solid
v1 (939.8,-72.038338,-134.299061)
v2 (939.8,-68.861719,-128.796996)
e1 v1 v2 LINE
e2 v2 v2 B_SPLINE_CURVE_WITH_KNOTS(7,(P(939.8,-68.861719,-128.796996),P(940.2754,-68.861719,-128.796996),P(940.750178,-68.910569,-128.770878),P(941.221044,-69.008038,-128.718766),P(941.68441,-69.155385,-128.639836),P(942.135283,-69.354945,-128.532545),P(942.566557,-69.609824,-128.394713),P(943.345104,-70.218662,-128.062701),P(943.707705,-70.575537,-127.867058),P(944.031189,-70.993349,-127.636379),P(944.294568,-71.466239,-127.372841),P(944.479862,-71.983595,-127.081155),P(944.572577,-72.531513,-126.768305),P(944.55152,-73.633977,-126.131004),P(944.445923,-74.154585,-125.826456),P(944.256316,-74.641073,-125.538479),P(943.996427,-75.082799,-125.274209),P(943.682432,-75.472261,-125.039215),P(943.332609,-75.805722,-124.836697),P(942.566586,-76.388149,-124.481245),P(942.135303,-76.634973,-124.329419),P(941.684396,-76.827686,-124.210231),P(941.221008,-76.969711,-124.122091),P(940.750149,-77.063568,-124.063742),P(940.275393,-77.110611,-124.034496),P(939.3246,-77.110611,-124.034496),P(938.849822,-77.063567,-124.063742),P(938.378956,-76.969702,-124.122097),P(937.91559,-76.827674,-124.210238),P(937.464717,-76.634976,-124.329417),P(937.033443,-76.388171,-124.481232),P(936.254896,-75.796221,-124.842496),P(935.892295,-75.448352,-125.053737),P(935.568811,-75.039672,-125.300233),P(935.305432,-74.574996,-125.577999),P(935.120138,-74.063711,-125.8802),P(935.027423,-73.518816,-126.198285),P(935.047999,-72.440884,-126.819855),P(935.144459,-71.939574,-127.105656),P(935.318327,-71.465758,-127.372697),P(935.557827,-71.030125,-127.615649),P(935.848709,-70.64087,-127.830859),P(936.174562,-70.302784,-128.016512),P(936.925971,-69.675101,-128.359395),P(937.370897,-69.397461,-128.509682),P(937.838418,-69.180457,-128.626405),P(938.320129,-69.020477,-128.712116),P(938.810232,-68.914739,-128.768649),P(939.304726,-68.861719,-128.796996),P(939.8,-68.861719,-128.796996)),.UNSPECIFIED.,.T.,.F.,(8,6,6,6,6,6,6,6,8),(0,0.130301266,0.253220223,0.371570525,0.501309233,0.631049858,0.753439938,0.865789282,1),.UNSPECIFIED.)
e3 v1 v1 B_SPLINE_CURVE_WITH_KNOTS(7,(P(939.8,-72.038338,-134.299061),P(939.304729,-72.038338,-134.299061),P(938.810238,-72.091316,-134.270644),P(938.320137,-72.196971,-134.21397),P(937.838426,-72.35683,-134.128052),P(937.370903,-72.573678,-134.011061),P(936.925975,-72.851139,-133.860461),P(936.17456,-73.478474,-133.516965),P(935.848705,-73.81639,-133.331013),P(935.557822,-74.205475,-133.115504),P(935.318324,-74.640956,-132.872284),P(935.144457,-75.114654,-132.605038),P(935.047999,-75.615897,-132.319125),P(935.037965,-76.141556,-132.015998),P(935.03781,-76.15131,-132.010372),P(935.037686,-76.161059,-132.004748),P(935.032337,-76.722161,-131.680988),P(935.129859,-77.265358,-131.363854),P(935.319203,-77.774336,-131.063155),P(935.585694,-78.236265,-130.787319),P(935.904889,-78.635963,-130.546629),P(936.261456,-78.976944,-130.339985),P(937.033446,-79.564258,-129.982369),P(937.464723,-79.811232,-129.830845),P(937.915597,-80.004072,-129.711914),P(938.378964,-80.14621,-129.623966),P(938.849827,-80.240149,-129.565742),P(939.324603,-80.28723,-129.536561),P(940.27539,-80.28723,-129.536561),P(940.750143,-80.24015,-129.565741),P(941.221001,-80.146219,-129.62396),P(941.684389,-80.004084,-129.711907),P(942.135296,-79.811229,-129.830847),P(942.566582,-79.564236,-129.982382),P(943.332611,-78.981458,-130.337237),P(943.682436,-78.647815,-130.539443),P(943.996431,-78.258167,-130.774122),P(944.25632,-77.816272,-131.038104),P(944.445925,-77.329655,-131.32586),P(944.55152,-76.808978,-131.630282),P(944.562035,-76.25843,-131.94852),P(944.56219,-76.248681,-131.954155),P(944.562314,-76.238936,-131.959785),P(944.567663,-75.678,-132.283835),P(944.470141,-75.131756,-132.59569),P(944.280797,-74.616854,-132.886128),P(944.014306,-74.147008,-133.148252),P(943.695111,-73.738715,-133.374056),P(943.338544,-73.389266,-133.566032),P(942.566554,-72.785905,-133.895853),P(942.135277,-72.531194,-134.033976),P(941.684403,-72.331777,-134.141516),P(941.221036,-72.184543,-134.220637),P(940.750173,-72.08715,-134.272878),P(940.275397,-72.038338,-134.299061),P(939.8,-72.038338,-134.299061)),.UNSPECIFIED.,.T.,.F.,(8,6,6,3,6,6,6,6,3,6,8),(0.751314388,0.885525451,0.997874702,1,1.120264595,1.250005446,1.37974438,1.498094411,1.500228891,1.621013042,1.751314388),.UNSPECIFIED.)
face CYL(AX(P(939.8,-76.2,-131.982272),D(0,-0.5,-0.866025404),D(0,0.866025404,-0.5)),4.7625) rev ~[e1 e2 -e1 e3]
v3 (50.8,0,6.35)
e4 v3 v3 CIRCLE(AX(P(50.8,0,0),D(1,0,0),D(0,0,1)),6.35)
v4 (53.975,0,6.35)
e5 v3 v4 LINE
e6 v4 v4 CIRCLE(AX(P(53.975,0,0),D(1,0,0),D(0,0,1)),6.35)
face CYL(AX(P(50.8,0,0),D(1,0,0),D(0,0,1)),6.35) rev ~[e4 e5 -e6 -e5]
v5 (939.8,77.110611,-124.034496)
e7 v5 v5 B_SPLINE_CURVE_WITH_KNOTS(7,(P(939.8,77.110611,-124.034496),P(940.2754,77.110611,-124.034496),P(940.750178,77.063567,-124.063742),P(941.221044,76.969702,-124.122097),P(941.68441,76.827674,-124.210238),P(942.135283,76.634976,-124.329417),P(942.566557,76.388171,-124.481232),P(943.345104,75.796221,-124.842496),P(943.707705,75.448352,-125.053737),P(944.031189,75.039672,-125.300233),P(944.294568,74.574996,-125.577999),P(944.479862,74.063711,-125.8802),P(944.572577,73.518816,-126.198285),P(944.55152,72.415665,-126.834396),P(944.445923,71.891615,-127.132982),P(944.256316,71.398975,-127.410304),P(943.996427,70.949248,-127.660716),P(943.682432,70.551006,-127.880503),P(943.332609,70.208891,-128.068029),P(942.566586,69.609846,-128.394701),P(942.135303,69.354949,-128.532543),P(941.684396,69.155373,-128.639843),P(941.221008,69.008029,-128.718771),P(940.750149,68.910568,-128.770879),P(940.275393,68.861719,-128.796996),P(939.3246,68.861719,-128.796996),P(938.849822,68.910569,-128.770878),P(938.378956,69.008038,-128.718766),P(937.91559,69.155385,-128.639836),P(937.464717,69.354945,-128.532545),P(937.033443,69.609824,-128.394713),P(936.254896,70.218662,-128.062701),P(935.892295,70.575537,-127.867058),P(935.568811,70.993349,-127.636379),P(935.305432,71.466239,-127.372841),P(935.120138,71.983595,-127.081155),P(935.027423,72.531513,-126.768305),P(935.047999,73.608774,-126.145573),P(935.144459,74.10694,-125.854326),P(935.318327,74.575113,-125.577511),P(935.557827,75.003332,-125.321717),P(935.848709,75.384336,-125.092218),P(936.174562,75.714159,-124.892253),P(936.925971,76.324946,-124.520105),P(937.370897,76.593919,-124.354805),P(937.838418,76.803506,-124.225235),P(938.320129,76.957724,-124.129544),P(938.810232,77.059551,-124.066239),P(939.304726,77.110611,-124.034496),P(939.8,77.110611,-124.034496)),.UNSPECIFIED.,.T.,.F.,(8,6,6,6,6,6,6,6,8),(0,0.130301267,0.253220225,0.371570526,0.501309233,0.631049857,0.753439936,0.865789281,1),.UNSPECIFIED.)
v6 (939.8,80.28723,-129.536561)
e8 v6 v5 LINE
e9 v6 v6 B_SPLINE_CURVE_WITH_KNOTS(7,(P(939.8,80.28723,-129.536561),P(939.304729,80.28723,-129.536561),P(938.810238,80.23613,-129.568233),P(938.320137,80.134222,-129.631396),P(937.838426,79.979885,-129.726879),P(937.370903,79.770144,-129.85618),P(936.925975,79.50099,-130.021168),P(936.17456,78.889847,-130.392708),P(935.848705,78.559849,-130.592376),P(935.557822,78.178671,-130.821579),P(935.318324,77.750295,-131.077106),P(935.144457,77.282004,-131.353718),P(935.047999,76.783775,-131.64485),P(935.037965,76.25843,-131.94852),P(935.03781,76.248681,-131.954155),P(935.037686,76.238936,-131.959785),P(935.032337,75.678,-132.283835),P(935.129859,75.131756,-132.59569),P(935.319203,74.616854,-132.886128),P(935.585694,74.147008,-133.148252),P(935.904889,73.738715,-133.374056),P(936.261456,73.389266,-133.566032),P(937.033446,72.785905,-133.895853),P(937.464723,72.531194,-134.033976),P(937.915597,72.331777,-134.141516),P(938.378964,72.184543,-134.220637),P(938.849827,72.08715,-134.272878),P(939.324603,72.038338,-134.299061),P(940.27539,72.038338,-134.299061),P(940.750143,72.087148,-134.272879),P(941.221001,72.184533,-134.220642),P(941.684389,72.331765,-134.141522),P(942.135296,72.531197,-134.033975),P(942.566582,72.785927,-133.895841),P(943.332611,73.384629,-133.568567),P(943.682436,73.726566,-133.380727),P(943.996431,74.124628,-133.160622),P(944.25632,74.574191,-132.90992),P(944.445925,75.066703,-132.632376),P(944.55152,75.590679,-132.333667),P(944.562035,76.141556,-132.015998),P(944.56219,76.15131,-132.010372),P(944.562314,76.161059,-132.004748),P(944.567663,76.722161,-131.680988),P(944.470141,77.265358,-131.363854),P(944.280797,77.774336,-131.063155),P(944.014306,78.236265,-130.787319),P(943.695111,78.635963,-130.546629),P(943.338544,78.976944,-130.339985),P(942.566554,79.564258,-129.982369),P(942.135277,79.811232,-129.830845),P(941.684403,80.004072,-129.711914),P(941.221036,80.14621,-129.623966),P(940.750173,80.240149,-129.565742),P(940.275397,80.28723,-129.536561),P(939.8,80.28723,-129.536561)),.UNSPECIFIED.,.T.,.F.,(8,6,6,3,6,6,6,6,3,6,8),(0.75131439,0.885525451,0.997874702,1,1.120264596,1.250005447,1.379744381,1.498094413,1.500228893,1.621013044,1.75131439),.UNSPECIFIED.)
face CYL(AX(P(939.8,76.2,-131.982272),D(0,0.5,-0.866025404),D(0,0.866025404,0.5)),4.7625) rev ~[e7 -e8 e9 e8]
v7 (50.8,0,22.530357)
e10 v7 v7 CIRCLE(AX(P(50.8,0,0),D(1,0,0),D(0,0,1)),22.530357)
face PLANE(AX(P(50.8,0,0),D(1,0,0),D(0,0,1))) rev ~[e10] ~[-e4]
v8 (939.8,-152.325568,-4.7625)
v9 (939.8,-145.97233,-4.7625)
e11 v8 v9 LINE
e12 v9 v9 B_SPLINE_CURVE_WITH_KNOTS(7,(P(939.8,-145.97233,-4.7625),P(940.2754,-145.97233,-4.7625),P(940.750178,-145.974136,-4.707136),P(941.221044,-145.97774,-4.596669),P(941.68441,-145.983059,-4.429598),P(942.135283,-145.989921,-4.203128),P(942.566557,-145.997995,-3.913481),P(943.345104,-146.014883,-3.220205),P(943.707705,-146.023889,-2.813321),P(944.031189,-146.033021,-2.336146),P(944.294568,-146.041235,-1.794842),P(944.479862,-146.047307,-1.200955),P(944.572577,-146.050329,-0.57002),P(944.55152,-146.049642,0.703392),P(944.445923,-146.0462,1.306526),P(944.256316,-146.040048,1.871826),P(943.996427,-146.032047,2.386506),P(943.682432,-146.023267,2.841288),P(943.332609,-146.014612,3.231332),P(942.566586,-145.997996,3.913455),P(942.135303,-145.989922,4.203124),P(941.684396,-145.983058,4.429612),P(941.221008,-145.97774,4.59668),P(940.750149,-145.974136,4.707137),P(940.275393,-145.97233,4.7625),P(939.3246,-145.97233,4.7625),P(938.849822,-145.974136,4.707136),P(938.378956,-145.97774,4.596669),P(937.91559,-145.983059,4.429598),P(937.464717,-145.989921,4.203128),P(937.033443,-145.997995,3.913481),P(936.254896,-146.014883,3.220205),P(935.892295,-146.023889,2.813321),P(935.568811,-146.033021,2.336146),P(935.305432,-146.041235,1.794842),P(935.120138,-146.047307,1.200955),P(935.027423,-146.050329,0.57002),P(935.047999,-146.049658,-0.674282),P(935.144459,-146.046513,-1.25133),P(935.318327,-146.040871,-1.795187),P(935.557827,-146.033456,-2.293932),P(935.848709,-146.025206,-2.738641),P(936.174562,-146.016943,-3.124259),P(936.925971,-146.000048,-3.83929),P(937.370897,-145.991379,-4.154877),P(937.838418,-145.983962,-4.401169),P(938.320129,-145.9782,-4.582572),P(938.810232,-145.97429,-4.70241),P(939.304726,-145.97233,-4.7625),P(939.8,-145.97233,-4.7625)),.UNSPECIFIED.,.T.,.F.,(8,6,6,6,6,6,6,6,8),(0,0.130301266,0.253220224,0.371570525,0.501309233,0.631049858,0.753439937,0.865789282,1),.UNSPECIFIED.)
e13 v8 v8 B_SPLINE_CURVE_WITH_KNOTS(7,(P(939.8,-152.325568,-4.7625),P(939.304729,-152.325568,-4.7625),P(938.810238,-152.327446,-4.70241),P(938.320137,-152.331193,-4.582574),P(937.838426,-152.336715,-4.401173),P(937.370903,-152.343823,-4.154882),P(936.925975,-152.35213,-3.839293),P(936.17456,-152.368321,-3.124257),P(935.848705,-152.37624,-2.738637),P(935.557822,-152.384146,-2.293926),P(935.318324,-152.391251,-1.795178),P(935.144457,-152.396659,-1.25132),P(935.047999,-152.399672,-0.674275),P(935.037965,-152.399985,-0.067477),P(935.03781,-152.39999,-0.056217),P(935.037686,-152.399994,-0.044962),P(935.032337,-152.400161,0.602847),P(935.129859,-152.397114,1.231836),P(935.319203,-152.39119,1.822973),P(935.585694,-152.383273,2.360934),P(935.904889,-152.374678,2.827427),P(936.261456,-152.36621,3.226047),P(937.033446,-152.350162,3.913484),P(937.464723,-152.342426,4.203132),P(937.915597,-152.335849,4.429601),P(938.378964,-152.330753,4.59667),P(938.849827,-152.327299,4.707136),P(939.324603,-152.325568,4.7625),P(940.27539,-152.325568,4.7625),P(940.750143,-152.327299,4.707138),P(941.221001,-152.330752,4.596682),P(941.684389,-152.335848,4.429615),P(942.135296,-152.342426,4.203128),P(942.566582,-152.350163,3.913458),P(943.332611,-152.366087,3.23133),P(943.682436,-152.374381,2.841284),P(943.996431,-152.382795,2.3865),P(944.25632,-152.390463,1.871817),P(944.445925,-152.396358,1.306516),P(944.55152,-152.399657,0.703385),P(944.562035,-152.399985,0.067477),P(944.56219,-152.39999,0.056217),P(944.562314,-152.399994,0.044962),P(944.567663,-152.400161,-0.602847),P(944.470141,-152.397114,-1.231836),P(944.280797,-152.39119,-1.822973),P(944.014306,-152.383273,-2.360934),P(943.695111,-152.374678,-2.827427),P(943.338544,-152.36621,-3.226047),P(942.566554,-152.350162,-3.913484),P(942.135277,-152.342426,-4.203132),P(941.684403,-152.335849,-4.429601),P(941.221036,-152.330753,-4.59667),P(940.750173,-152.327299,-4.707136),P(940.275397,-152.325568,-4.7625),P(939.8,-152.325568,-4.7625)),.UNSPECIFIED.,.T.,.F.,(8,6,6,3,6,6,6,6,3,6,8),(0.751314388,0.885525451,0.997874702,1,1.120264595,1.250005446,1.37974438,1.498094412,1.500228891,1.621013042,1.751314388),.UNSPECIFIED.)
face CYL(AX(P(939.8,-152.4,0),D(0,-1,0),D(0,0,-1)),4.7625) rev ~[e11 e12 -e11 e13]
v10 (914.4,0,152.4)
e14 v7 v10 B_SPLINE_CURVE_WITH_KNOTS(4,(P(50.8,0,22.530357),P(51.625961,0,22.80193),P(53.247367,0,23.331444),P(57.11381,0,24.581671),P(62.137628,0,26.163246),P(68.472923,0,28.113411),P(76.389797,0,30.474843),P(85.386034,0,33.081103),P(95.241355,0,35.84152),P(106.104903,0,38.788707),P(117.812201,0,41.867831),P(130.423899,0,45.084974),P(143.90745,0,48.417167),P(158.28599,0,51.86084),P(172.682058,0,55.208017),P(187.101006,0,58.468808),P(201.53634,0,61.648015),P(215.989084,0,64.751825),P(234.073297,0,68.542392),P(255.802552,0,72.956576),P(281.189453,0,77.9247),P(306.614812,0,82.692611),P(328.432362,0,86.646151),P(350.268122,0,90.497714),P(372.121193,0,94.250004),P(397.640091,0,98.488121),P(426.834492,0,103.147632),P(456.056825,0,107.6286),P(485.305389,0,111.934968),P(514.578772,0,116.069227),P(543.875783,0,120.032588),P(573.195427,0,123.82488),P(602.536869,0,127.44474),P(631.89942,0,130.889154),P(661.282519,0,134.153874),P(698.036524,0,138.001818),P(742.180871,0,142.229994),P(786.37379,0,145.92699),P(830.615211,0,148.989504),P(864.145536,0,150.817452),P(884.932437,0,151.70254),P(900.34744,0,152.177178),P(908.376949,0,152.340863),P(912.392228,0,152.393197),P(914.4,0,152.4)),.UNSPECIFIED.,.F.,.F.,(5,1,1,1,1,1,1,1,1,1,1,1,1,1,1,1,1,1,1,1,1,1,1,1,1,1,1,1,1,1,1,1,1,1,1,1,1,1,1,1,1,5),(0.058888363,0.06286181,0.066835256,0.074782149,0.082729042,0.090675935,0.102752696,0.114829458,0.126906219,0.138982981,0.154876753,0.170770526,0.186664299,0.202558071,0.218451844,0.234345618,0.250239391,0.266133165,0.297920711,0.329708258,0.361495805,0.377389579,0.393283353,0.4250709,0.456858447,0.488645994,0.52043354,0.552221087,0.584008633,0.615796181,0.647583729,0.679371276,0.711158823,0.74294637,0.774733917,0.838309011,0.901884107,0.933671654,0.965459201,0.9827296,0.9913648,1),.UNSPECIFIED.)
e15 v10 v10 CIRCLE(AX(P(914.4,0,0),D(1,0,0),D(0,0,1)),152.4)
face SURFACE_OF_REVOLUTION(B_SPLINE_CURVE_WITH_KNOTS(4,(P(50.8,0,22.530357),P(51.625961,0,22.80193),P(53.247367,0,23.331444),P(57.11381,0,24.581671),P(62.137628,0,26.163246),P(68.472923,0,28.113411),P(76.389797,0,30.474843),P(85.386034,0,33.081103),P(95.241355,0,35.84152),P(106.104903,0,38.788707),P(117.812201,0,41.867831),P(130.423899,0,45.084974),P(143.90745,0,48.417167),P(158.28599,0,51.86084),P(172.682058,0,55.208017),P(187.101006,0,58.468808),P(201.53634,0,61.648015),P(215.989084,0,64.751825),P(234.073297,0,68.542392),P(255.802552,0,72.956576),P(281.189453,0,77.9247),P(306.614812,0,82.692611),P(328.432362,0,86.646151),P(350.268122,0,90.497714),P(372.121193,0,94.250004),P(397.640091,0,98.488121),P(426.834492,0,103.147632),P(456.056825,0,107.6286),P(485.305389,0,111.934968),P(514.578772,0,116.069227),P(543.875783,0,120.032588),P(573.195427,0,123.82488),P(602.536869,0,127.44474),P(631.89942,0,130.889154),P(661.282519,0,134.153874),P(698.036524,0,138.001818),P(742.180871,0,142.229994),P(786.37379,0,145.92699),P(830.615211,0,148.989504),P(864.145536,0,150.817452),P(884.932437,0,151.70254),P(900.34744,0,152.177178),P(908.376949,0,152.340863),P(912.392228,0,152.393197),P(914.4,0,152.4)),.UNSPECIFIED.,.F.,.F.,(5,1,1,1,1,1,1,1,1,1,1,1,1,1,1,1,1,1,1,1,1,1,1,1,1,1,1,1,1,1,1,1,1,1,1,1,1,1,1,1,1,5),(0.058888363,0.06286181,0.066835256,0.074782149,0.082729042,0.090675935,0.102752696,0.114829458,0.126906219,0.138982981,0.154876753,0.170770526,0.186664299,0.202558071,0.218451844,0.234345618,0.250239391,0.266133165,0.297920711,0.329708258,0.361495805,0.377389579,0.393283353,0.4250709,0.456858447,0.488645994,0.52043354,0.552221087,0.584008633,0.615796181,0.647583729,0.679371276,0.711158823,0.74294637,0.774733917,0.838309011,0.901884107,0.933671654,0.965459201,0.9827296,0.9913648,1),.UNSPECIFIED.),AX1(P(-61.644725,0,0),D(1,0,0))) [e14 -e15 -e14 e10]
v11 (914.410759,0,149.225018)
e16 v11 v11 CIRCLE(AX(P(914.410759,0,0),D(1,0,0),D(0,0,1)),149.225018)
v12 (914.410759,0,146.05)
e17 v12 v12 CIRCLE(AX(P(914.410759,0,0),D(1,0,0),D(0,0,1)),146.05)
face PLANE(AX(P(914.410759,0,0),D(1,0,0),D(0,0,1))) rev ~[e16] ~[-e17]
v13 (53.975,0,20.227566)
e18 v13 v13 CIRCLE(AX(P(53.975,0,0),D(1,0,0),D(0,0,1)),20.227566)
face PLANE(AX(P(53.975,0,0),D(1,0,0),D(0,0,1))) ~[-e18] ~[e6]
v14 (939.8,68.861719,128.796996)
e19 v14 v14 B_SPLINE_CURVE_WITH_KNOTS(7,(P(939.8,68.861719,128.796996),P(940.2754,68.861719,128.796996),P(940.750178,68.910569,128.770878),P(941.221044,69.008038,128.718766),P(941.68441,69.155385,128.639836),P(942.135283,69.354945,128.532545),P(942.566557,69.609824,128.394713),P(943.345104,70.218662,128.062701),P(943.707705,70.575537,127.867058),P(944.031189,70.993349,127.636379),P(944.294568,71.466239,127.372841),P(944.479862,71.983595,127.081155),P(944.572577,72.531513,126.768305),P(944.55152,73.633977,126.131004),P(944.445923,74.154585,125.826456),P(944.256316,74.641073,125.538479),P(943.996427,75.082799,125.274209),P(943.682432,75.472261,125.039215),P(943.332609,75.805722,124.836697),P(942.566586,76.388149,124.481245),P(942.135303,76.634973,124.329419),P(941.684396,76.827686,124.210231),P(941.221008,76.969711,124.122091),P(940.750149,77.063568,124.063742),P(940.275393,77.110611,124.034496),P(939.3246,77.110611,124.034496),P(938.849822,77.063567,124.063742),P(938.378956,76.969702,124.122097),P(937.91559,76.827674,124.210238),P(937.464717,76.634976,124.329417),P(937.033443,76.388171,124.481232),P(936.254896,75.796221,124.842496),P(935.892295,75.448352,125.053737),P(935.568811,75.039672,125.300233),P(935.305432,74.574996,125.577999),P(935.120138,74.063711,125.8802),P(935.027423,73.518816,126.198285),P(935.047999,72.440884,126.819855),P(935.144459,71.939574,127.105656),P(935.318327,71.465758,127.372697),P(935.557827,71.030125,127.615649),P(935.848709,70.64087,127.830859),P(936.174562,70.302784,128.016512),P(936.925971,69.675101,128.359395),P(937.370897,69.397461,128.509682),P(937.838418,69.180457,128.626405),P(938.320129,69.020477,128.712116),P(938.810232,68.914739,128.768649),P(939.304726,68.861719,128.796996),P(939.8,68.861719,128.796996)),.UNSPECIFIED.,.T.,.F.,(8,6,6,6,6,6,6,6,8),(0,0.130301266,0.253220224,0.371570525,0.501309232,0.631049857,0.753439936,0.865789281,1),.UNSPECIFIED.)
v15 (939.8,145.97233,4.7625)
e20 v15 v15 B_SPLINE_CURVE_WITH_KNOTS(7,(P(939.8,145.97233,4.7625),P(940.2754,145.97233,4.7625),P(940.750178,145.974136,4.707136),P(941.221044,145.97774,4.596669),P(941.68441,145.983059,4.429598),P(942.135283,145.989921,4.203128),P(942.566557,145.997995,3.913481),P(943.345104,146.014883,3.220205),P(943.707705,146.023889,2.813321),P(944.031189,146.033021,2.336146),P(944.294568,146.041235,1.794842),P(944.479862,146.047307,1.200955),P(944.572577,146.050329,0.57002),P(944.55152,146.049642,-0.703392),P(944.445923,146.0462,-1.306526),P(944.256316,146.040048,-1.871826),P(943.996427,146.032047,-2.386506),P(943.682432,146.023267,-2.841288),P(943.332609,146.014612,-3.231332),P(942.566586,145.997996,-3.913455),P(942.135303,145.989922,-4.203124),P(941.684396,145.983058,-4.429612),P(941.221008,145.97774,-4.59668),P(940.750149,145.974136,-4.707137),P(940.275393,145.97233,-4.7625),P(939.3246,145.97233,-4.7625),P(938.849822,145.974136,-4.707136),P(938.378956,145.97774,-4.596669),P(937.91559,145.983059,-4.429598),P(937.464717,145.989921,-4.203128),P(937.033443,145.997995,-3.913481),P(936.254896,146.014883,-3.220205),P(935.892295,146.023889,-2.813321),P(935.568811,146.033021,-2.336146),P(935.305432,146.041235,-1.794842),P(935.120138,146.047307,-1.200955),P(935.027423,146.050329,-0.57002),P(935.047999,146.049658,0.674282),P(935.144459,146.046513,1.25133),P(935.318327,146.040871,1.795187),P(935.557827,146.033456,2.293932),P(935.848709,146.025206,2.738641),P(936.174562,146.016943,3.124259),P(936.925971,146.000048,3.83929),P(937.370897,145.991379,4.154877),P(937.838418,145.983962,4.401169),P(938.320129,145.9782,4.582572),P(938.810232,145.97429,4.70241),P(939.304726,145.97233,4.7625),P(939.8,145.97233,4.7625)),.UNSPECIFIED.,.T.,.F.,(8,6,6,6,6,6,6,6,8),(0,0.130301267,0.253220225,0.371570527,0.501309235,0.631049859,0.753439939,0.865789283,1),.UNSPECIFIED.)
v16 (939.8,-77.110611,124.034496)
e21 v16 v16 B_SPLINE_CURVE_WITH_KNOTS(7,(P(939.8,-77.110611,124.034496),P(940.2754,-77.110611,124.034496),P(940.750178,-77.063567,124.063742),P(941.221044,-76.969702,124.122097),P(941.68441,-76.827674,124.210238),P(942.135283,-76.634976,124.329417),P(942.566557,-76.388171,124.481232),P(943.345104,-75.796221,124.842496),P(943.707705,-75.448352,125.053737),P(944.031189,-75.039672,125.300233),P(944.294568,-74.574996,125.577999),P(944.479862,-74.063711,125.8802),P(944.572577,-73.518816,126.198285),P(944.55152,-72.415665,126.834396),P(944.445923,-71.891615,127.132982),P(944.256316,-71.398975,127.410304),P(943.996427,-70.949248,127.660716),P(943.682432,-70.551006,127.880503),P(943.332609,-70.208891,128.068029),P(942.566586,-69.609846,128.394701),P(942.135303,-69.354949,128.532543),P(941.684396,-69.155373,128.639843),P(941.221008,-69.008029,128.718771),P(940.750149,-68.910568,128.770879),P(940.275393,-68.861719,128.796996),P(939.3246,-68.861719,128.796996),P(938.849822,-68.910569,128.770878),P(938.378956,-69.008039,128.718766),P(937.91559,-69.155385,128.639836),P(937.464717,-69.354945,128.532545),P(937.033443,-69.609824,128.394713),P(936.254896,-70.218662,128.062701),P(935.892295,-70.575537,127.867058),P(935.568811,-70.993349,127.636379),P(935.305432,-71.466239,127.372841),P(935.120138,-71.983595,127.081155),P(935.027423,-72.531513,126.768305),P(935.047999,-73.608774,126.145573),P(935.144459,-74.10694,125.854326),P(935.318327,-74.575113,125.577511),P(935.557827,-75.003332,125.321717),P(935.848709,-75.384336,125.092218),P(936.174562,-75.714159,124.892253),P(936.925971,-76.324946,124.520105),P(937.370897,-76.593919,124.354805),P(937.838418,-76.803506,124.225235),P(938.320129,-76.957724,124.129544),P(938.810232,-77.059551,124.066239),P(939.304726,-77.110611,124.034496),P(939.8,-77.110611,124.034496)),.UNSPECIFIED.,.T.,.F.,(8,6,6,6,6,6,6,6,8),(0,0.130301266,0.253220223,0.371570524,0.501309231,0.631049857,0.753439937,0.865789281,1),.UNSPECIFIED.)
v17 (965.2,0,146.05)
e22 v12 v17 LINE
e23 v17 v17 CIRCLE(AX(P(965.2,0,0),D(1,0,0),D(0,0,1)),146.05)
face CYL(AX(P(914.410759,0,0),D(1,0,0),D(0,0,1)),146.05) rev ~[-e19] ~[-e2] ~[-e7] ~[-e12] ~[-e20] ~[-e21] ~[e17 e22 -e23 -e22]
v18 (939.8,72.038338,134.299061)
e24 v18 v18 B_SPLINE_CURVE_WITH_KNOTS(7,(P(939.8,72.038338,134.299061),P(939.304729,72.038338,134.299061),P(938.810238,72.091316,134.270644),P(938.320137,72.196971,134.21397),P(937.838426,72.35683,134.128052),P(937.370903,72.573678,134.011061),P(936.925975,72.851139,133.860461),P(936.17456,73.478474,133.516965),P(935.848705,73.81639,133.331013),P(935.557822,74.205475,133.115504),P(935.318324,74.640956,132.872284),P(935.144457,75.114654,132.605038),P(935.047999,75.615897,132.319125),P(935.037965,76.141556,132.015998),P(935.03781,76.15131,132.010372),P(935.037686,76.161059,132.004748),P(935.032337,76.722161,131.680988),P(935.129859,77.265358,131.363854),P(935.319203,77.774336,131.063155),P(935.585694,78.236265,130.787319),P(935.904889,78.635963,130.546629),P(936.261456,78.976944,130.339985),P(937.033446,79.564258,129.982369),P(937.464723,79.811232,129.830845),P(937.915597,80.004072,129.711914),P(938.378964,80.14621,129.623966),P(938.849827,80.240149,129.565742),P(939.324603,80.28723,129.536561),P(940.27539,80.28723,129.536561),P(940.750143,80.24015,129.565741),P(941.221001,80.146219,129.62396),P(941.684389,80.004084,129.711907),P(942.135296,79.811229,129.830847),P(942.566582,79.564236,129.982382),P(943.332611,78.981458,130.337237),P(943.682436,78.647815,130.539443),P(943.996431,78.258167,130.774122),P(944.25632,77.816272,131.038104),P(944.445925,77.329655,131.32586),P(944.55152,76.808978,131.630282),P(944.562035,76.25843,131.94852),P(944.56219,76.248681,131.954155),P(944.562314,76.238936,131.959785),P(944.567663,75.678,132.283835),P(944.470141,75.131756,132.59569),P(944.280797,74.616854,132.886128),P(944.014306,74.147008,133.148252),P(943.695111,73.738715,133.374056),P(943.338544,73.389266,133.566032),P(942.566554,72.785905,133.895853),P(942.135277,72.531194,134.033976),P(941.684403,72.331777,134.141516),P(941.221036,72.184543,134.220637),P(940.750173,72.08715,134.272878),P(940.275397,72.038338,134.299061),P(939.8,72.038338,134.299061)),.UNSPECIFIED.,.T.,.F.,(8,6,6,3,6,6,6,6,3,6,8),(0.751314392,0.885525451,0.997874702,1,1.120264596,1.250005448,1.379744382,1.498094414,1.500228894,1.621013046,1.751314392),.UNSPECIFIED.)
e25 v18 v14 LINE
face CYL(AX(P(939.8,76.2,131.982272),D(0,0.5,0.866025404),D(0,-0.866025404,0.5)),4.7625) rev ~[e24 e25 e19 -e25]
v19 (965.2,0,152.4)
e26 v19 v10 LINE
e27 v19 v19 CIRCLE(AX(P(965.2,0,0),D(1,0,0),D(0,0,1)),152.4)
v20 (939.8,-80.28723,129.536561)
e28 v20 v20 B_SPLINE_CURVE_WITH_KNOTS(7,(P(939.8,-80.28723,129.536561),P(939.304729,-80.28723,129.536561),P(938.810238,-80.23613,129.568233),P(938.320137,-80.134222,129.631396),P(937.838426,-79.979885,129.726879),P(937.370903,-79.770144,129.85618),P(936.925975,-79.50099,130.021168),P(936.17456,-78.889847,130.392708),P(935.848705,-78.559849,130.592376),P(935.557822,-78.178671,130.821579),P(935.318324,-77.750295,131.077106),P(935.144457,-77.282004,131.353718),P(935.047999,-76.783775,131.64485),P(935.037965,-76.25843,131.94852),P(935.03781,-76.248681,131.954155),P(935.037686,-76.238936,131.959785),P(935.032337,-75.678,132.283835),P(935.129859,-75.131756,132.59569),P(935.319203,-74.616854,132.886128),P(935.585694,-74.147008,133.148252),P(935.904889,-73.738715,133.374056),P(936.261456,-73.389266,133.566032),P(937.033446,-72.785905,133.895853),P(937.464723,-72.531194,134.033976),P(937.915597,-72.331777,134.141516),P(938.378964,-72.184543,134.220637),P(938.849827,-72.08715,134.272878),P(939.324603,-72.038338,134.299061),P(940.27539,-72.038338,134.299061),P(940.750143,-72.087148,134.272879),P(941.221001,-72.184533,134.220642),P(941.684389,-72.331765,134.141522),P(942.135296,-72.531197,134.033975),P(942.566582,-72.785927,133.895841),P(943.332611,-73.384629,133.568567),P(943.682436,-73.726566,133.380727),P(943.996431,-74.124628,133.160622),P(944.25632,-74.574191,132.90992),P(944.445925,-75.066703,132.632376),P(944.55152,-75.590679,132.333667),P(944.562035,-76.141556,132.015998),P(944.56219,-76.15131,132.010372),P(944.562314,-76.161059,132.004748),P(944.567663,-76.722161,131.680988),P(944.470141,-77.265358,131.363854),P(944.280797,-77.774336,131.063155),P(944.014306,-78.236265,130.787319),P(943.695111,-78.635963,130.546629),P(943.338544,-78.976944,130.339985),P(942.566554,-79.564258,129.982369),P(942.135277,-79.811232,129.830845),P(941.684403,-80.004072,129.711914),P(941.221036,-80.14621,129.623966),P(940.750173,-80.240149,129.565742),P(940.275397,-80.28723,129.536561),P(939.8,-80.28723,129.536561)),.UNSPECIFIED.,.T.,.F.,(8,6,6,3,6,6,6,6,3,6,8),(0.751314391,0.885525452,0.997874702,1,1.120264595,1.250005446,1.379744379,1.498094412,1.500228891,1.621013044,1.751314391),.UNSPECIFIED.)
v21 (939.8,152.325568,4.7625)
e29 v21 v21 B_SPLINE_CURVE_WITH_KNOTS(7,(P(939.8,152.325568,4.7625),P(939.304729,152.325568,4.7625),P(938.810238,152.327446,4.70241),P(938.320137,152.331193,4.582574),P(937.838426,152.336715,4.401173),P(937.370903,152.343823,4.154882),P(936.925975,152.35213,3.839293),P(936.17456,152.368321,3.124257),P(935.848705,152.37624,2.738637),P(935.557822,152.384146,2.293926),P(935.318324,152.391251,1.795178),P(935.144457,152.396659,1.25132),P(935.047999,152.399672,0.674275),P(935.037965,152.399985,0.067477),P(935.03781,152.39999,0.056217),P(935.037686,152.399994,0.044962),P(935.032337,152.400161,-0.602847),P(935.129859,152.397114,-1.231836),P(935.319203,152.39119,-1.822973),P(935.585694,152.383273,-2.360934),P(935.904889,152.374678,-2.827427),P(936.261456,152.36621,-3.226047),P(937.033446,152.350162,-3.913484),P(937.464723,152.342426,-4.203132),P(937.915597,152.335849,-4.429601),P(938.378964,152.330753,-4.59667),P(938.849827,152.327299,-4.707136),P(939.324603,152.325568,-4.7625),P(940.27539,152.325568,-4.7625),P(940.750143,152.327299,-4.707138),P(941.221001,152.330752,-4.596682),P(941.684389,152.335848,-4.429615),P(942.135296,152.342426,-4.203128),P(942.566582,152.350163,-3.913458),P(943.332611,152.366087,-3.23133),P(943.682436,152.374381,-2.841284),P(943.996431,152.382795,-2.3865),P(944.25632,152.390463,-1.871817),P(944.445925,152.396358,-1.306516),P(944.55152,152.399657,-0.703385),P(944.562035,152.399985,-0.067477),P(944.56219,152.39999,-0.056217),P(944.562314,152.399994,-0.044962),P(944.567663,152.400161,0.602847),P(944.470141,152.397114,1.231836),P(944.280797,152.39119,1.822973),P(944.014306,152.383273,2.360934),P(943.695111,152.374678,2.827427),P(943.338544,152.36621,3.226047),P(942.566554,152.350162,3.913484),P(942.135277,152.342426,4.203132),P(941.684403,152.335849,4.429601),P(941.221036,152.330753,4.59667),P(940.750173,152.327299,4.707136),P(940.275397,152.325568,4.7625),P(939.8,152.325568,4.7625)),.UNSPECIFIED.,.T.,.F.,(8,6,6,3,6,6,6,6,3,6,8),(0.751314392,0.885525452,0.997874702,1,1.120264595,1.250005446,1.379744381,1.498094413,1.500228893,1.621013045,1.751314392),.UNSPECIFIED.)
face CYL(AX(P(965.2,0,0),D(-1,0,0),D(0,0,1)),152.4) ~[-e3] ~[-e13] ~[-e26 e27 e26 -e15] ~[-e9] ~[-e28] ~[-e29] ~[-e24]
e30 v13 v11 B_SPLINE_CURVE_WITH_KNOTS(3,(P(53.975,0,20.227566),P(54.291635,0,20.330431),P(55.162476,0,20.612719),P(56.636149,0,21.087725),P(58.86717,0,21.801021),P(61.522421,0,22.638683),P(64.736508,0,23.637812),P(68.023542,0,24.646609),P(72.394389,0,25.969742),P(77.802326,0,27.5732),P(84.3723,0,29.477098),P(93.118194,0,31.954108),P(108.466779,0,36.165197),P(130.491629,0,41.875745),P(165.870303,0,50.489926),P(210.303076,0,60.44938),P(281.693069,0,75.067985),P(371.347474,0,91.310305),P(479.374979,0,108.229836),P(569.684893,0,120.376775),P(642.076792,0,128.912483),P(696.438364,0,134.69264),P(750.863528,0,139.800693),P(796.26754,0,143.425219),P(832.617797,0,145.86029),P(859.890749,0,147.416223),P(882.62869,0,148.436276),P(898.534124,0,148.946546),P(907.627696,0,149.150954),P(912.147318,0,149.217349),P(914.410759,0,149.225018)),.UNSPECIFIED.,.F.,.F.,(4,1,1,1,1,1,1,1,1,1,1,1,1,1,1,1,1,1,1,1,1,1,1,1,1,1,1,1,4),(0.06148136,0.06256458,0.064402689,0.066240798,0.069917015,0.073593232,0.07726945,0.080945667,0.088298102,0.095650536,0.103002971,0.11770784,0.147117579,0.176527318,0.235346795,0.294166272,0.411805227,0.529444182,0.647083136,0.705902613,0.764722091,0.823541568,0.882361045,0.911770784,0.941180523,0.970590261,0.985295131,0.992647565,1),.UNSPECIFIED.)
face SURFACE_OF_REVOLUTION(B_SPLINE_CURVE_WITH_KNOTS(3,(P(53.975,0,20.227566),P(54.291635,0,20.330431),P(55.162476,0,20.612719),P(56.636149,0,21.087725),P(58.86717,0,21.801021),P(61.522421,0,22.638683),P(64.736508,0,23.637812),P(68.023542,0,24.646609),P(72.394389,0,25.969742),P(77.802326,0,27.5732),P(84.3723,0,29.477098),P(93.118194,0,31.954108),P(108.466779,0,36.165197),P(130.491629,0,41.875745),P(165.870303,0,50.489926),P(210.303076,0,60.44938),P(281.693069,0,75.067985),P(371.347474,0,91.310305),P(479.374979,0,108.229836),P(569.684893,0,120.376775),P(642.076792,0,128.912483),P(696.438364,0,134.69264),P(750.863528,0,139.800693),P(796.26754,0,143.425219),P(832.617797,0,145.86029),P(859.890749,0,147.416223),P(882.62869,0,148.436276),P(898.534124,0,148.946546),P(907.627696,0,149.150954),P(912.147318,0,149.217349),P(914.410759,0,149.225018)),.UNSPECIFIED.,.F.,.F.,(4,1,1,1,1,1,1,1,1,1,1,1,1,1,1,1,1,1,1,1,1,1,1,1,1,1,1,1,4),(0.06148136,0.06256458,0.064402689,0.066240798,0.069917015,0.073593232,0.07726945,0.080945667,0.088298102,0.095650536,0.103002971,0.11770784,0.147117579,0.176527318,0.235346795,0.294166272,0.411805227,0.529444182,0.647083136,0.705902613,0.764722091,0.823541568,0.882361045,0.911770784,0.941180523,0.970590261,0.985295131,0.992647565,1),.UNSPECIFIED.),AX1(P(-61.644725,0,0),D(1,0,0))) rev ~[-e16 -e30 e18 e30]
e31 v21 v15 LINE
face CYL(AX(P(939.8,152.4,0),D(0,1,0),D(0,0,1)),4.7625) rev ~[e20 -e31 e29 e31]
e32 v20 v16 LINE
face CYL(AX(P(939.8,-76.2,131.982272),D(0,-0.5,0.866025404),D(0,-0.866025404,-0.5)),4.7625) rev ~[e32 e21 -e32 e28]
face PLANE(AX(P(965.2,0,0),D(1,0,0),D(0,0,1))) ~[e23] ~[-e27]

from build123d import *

# Parameters (mm, degrees)
SKETCH7_R          = 152.4
CUT_EXTRUDE1_DEPTH = 147.399141516
SKETCH17_R         = 4.7625
CUT_EXTRUDE4_DEPTH = 147.399141516
CIRPATTERN2_COUNT  = 6


with BuildPart() as part:
    # Sketch6 → Revolve1 (revolve)
    with BuildSketch(Plane.XY, mode=Mode.PRIVATE) as revolve1_sk:
        with BuildLine():
            Line((50.8, 22.53035676), (50.8, 6.35))
            Line((50.8, 6.35), (53.975, 6.35))
            Line((53.975, 6.35), (53.975, 20.227565916))
            add(Edge.make_bspline(
                [(53.975, 20.227565916), (54.291634879, 20.330430839), (55.162475518, 20.612719168), (56.636149311, 21.087725347), (58.867170376, 21.80102074), (61.522421046, 22.638682883), (64.736507837, 23.637812157), (68.023541536, 24.646609183), (72.39438926, 25.969741612), (77.802325895, 27.573199633), (84.37229967, 29.477097548), (93.118193973, 31.954107645), (108.466778526, 36.165197289), (130.491628823, 41.875745108), (165.870302673, 50.489926314), (210.303076361, 60.449379541), (281.693068548, 75.067985253), (371.347473816, 91.310304544), (479.374979471, 108.229836311), (569.684892552, 120.376775068), (642.076792345, 128.912483065), (696.438363769, 134.692640498), (750.863527692, 139.800693107), (796.267539796, 143.42521879), (832.617797313, 145.860290015), (859.890749047, 147.416222506), (882.628689993, 148.436275801), (898.53412358, 148.946546098), (907.62769622, 149.150954449), (912.14731785, 149.217348506), (914.4107585, 149.225018228)],
                knots=[0.06148136, 0.06148136, 0.06148136, 0.06148136, 0.06256458, 0.064402689, 0.066240798, 0.069917015, 0.073593232, 0.07726945, 0.080945667, 0.088298102, 0.095650536, 0.103002971, 0.11770784, 0.147117579, 0.176527318, 0.235346795, 0.294166272, 0.411805227, 0.529444182, 0.647083136, 0.705902613, 0.764722091, 0.823541568, 0.882361045, 0.911770784, 0.941180523, 0.970590261, 0.985295131, 0.992647565, 1, 1, 1, 1], degree=3))
            Line((914.4107585, 149.225018228), (914.4107585, 146.05))
            Line((914.4107585, 146.05), (1066.8, 146.05))
            Line((1066.8, 146.05), (1066.8, 149.225))
            Line((1066.8, 149.225), (965.2, 149.225))
            Line((965.2, 149.225), (965.2, 152.4))
            Line((965.2, 152.4), (914.4, 152.4))
            add(Edge.make_bspline(
                [(50.8, 22.53035676), (51.62596102, 22.801930188), (53.247366667, 23.331443773), (57.113810342, 24.581671091), (62.137627853, 26.163245596), (68.472923462, 28.113411094), (76.389796689, 30.474842786), (85.386033894, 33.081102875), (95.241355255, 35.841520364), (106.104903016, 38.788706559), (117.812200959, 41.867831442), (130.423899043, 45.08497442), (143.907449646, 48.417167108), (158.285989872, 51.860839853), (172.682057827, 55.208017205), (187.101006341, 58.468808185), (201.536340401, 61.648015415), (215.98908439, 64.751824582), (234.073297096, 68.542392147), (255.802551989, 72.956576003), (281.189453131, 77.92470015), (306.614812158, 82.692611325), (328.432361696, 86.646151134), (350.268122203, 90.497714312), (372.121192631, 94.250003895), (397.640090518, 98.488121242), (426.834492226, 103.147632175), (456.056824987, 107.628600482), (485.305388678, 111.934967932), (514.578772116, 116.069226586), (543.875783343, 120.032588186), (573.19542697, 123.82488003), (602.536868801, 127.444739672), (631.89942018, 130.889153604), (661.282519219, 134.153873932), (698.036524214, 138.001817701), (742.180870702, 142.229994267), (786.373789985, 145.926990276), (830.615211008, 148.98950394), (864.145536025, 150.817451898), (884.93243709, 151.702539519), (900.347440379, 152.177178216), (908.376949057, 152.340862845), (912.39222778, 152.393196617), (914.4, 152.4)],
                knots=[0.058888363, 0.058888363, 0.058888363, 0.058888363, 0.058888363, 0.06286181, 0.066835256, 0.074782149, 0.082729042, 0.090675935, 0.102752696, 0.114829458, 0.126906219, 0.138982981, 0.154876753, 0.170770526, 0.186664299, 0.202558071, 0.218451844, 0.234345618, 0.250239391, 0.266133165, 0.297920711, 0.329708258, 0.361495805, 0.377389579, 0.393283353, 0.4250709, 0.456858447, 0.488645994, 0.52043354, 0.552221087, 0.584008633, 0.615796181, 0.647583729, 0.679371276, 0.711158823, 0.74294637, 0.774733917, 0.838309011, 0.901884107, 0.933671654, 0.965459201, 0.9827296, 0.9913648, 1, 1, 1, 1, 1], degree=4))
        make_face()
    revolve(revolve1_sk.sketch.rotate(Axis((-61.64472501, 0, 0), (1, 0, 0)), 90), axis=Axis((-61.64472501, 0, 0), (1, 0, 0)))

    # Sketch7 → Cut-Extrude1 (cut)
    with BuildSketch(Plane(origin=(965.2, 0, 0), x_dir=(0, 0, -1), z_dir=(1, 0, 0))):
        with Locations(Location((0, 0, 0), (0, 0, 180))):
            Circle(SKETCH7_R)
    extrude(amount=CUT_EXTRUDE1_DEPTH, mode=Mode.SUBTRACT)

    # Sketch17 → Cut-Extrude4 (cut)
    with BuildSketch(Plane(origin=(0, 152.4, 0), x_dir=(1, 0, 0), z_dir=(0, 1, 0))):
        with Locations(Location((939.8, 0, 0), (0, 0, 270))):
            Circle(SKETCH17_R)
    cut_extrude4 = extrude(amount=-CUT_EXTRUDE4_DEPTH, mode=Mode.SUBTRACT)

    # CirPattern2: Cut-Extrude4 ×6 about axis
    cirpattern2_axis = Axis((0, 0, 0), (1, 0, 0))
    for i in range(1, CIRPATTERN2_COUNT):
        add(cut_extrude4.rotate(cirpattern2_axis, i * 360 / CIRPATTERN2_COUNT), mode=Mode.SUBTRACT)


solid = part.part
